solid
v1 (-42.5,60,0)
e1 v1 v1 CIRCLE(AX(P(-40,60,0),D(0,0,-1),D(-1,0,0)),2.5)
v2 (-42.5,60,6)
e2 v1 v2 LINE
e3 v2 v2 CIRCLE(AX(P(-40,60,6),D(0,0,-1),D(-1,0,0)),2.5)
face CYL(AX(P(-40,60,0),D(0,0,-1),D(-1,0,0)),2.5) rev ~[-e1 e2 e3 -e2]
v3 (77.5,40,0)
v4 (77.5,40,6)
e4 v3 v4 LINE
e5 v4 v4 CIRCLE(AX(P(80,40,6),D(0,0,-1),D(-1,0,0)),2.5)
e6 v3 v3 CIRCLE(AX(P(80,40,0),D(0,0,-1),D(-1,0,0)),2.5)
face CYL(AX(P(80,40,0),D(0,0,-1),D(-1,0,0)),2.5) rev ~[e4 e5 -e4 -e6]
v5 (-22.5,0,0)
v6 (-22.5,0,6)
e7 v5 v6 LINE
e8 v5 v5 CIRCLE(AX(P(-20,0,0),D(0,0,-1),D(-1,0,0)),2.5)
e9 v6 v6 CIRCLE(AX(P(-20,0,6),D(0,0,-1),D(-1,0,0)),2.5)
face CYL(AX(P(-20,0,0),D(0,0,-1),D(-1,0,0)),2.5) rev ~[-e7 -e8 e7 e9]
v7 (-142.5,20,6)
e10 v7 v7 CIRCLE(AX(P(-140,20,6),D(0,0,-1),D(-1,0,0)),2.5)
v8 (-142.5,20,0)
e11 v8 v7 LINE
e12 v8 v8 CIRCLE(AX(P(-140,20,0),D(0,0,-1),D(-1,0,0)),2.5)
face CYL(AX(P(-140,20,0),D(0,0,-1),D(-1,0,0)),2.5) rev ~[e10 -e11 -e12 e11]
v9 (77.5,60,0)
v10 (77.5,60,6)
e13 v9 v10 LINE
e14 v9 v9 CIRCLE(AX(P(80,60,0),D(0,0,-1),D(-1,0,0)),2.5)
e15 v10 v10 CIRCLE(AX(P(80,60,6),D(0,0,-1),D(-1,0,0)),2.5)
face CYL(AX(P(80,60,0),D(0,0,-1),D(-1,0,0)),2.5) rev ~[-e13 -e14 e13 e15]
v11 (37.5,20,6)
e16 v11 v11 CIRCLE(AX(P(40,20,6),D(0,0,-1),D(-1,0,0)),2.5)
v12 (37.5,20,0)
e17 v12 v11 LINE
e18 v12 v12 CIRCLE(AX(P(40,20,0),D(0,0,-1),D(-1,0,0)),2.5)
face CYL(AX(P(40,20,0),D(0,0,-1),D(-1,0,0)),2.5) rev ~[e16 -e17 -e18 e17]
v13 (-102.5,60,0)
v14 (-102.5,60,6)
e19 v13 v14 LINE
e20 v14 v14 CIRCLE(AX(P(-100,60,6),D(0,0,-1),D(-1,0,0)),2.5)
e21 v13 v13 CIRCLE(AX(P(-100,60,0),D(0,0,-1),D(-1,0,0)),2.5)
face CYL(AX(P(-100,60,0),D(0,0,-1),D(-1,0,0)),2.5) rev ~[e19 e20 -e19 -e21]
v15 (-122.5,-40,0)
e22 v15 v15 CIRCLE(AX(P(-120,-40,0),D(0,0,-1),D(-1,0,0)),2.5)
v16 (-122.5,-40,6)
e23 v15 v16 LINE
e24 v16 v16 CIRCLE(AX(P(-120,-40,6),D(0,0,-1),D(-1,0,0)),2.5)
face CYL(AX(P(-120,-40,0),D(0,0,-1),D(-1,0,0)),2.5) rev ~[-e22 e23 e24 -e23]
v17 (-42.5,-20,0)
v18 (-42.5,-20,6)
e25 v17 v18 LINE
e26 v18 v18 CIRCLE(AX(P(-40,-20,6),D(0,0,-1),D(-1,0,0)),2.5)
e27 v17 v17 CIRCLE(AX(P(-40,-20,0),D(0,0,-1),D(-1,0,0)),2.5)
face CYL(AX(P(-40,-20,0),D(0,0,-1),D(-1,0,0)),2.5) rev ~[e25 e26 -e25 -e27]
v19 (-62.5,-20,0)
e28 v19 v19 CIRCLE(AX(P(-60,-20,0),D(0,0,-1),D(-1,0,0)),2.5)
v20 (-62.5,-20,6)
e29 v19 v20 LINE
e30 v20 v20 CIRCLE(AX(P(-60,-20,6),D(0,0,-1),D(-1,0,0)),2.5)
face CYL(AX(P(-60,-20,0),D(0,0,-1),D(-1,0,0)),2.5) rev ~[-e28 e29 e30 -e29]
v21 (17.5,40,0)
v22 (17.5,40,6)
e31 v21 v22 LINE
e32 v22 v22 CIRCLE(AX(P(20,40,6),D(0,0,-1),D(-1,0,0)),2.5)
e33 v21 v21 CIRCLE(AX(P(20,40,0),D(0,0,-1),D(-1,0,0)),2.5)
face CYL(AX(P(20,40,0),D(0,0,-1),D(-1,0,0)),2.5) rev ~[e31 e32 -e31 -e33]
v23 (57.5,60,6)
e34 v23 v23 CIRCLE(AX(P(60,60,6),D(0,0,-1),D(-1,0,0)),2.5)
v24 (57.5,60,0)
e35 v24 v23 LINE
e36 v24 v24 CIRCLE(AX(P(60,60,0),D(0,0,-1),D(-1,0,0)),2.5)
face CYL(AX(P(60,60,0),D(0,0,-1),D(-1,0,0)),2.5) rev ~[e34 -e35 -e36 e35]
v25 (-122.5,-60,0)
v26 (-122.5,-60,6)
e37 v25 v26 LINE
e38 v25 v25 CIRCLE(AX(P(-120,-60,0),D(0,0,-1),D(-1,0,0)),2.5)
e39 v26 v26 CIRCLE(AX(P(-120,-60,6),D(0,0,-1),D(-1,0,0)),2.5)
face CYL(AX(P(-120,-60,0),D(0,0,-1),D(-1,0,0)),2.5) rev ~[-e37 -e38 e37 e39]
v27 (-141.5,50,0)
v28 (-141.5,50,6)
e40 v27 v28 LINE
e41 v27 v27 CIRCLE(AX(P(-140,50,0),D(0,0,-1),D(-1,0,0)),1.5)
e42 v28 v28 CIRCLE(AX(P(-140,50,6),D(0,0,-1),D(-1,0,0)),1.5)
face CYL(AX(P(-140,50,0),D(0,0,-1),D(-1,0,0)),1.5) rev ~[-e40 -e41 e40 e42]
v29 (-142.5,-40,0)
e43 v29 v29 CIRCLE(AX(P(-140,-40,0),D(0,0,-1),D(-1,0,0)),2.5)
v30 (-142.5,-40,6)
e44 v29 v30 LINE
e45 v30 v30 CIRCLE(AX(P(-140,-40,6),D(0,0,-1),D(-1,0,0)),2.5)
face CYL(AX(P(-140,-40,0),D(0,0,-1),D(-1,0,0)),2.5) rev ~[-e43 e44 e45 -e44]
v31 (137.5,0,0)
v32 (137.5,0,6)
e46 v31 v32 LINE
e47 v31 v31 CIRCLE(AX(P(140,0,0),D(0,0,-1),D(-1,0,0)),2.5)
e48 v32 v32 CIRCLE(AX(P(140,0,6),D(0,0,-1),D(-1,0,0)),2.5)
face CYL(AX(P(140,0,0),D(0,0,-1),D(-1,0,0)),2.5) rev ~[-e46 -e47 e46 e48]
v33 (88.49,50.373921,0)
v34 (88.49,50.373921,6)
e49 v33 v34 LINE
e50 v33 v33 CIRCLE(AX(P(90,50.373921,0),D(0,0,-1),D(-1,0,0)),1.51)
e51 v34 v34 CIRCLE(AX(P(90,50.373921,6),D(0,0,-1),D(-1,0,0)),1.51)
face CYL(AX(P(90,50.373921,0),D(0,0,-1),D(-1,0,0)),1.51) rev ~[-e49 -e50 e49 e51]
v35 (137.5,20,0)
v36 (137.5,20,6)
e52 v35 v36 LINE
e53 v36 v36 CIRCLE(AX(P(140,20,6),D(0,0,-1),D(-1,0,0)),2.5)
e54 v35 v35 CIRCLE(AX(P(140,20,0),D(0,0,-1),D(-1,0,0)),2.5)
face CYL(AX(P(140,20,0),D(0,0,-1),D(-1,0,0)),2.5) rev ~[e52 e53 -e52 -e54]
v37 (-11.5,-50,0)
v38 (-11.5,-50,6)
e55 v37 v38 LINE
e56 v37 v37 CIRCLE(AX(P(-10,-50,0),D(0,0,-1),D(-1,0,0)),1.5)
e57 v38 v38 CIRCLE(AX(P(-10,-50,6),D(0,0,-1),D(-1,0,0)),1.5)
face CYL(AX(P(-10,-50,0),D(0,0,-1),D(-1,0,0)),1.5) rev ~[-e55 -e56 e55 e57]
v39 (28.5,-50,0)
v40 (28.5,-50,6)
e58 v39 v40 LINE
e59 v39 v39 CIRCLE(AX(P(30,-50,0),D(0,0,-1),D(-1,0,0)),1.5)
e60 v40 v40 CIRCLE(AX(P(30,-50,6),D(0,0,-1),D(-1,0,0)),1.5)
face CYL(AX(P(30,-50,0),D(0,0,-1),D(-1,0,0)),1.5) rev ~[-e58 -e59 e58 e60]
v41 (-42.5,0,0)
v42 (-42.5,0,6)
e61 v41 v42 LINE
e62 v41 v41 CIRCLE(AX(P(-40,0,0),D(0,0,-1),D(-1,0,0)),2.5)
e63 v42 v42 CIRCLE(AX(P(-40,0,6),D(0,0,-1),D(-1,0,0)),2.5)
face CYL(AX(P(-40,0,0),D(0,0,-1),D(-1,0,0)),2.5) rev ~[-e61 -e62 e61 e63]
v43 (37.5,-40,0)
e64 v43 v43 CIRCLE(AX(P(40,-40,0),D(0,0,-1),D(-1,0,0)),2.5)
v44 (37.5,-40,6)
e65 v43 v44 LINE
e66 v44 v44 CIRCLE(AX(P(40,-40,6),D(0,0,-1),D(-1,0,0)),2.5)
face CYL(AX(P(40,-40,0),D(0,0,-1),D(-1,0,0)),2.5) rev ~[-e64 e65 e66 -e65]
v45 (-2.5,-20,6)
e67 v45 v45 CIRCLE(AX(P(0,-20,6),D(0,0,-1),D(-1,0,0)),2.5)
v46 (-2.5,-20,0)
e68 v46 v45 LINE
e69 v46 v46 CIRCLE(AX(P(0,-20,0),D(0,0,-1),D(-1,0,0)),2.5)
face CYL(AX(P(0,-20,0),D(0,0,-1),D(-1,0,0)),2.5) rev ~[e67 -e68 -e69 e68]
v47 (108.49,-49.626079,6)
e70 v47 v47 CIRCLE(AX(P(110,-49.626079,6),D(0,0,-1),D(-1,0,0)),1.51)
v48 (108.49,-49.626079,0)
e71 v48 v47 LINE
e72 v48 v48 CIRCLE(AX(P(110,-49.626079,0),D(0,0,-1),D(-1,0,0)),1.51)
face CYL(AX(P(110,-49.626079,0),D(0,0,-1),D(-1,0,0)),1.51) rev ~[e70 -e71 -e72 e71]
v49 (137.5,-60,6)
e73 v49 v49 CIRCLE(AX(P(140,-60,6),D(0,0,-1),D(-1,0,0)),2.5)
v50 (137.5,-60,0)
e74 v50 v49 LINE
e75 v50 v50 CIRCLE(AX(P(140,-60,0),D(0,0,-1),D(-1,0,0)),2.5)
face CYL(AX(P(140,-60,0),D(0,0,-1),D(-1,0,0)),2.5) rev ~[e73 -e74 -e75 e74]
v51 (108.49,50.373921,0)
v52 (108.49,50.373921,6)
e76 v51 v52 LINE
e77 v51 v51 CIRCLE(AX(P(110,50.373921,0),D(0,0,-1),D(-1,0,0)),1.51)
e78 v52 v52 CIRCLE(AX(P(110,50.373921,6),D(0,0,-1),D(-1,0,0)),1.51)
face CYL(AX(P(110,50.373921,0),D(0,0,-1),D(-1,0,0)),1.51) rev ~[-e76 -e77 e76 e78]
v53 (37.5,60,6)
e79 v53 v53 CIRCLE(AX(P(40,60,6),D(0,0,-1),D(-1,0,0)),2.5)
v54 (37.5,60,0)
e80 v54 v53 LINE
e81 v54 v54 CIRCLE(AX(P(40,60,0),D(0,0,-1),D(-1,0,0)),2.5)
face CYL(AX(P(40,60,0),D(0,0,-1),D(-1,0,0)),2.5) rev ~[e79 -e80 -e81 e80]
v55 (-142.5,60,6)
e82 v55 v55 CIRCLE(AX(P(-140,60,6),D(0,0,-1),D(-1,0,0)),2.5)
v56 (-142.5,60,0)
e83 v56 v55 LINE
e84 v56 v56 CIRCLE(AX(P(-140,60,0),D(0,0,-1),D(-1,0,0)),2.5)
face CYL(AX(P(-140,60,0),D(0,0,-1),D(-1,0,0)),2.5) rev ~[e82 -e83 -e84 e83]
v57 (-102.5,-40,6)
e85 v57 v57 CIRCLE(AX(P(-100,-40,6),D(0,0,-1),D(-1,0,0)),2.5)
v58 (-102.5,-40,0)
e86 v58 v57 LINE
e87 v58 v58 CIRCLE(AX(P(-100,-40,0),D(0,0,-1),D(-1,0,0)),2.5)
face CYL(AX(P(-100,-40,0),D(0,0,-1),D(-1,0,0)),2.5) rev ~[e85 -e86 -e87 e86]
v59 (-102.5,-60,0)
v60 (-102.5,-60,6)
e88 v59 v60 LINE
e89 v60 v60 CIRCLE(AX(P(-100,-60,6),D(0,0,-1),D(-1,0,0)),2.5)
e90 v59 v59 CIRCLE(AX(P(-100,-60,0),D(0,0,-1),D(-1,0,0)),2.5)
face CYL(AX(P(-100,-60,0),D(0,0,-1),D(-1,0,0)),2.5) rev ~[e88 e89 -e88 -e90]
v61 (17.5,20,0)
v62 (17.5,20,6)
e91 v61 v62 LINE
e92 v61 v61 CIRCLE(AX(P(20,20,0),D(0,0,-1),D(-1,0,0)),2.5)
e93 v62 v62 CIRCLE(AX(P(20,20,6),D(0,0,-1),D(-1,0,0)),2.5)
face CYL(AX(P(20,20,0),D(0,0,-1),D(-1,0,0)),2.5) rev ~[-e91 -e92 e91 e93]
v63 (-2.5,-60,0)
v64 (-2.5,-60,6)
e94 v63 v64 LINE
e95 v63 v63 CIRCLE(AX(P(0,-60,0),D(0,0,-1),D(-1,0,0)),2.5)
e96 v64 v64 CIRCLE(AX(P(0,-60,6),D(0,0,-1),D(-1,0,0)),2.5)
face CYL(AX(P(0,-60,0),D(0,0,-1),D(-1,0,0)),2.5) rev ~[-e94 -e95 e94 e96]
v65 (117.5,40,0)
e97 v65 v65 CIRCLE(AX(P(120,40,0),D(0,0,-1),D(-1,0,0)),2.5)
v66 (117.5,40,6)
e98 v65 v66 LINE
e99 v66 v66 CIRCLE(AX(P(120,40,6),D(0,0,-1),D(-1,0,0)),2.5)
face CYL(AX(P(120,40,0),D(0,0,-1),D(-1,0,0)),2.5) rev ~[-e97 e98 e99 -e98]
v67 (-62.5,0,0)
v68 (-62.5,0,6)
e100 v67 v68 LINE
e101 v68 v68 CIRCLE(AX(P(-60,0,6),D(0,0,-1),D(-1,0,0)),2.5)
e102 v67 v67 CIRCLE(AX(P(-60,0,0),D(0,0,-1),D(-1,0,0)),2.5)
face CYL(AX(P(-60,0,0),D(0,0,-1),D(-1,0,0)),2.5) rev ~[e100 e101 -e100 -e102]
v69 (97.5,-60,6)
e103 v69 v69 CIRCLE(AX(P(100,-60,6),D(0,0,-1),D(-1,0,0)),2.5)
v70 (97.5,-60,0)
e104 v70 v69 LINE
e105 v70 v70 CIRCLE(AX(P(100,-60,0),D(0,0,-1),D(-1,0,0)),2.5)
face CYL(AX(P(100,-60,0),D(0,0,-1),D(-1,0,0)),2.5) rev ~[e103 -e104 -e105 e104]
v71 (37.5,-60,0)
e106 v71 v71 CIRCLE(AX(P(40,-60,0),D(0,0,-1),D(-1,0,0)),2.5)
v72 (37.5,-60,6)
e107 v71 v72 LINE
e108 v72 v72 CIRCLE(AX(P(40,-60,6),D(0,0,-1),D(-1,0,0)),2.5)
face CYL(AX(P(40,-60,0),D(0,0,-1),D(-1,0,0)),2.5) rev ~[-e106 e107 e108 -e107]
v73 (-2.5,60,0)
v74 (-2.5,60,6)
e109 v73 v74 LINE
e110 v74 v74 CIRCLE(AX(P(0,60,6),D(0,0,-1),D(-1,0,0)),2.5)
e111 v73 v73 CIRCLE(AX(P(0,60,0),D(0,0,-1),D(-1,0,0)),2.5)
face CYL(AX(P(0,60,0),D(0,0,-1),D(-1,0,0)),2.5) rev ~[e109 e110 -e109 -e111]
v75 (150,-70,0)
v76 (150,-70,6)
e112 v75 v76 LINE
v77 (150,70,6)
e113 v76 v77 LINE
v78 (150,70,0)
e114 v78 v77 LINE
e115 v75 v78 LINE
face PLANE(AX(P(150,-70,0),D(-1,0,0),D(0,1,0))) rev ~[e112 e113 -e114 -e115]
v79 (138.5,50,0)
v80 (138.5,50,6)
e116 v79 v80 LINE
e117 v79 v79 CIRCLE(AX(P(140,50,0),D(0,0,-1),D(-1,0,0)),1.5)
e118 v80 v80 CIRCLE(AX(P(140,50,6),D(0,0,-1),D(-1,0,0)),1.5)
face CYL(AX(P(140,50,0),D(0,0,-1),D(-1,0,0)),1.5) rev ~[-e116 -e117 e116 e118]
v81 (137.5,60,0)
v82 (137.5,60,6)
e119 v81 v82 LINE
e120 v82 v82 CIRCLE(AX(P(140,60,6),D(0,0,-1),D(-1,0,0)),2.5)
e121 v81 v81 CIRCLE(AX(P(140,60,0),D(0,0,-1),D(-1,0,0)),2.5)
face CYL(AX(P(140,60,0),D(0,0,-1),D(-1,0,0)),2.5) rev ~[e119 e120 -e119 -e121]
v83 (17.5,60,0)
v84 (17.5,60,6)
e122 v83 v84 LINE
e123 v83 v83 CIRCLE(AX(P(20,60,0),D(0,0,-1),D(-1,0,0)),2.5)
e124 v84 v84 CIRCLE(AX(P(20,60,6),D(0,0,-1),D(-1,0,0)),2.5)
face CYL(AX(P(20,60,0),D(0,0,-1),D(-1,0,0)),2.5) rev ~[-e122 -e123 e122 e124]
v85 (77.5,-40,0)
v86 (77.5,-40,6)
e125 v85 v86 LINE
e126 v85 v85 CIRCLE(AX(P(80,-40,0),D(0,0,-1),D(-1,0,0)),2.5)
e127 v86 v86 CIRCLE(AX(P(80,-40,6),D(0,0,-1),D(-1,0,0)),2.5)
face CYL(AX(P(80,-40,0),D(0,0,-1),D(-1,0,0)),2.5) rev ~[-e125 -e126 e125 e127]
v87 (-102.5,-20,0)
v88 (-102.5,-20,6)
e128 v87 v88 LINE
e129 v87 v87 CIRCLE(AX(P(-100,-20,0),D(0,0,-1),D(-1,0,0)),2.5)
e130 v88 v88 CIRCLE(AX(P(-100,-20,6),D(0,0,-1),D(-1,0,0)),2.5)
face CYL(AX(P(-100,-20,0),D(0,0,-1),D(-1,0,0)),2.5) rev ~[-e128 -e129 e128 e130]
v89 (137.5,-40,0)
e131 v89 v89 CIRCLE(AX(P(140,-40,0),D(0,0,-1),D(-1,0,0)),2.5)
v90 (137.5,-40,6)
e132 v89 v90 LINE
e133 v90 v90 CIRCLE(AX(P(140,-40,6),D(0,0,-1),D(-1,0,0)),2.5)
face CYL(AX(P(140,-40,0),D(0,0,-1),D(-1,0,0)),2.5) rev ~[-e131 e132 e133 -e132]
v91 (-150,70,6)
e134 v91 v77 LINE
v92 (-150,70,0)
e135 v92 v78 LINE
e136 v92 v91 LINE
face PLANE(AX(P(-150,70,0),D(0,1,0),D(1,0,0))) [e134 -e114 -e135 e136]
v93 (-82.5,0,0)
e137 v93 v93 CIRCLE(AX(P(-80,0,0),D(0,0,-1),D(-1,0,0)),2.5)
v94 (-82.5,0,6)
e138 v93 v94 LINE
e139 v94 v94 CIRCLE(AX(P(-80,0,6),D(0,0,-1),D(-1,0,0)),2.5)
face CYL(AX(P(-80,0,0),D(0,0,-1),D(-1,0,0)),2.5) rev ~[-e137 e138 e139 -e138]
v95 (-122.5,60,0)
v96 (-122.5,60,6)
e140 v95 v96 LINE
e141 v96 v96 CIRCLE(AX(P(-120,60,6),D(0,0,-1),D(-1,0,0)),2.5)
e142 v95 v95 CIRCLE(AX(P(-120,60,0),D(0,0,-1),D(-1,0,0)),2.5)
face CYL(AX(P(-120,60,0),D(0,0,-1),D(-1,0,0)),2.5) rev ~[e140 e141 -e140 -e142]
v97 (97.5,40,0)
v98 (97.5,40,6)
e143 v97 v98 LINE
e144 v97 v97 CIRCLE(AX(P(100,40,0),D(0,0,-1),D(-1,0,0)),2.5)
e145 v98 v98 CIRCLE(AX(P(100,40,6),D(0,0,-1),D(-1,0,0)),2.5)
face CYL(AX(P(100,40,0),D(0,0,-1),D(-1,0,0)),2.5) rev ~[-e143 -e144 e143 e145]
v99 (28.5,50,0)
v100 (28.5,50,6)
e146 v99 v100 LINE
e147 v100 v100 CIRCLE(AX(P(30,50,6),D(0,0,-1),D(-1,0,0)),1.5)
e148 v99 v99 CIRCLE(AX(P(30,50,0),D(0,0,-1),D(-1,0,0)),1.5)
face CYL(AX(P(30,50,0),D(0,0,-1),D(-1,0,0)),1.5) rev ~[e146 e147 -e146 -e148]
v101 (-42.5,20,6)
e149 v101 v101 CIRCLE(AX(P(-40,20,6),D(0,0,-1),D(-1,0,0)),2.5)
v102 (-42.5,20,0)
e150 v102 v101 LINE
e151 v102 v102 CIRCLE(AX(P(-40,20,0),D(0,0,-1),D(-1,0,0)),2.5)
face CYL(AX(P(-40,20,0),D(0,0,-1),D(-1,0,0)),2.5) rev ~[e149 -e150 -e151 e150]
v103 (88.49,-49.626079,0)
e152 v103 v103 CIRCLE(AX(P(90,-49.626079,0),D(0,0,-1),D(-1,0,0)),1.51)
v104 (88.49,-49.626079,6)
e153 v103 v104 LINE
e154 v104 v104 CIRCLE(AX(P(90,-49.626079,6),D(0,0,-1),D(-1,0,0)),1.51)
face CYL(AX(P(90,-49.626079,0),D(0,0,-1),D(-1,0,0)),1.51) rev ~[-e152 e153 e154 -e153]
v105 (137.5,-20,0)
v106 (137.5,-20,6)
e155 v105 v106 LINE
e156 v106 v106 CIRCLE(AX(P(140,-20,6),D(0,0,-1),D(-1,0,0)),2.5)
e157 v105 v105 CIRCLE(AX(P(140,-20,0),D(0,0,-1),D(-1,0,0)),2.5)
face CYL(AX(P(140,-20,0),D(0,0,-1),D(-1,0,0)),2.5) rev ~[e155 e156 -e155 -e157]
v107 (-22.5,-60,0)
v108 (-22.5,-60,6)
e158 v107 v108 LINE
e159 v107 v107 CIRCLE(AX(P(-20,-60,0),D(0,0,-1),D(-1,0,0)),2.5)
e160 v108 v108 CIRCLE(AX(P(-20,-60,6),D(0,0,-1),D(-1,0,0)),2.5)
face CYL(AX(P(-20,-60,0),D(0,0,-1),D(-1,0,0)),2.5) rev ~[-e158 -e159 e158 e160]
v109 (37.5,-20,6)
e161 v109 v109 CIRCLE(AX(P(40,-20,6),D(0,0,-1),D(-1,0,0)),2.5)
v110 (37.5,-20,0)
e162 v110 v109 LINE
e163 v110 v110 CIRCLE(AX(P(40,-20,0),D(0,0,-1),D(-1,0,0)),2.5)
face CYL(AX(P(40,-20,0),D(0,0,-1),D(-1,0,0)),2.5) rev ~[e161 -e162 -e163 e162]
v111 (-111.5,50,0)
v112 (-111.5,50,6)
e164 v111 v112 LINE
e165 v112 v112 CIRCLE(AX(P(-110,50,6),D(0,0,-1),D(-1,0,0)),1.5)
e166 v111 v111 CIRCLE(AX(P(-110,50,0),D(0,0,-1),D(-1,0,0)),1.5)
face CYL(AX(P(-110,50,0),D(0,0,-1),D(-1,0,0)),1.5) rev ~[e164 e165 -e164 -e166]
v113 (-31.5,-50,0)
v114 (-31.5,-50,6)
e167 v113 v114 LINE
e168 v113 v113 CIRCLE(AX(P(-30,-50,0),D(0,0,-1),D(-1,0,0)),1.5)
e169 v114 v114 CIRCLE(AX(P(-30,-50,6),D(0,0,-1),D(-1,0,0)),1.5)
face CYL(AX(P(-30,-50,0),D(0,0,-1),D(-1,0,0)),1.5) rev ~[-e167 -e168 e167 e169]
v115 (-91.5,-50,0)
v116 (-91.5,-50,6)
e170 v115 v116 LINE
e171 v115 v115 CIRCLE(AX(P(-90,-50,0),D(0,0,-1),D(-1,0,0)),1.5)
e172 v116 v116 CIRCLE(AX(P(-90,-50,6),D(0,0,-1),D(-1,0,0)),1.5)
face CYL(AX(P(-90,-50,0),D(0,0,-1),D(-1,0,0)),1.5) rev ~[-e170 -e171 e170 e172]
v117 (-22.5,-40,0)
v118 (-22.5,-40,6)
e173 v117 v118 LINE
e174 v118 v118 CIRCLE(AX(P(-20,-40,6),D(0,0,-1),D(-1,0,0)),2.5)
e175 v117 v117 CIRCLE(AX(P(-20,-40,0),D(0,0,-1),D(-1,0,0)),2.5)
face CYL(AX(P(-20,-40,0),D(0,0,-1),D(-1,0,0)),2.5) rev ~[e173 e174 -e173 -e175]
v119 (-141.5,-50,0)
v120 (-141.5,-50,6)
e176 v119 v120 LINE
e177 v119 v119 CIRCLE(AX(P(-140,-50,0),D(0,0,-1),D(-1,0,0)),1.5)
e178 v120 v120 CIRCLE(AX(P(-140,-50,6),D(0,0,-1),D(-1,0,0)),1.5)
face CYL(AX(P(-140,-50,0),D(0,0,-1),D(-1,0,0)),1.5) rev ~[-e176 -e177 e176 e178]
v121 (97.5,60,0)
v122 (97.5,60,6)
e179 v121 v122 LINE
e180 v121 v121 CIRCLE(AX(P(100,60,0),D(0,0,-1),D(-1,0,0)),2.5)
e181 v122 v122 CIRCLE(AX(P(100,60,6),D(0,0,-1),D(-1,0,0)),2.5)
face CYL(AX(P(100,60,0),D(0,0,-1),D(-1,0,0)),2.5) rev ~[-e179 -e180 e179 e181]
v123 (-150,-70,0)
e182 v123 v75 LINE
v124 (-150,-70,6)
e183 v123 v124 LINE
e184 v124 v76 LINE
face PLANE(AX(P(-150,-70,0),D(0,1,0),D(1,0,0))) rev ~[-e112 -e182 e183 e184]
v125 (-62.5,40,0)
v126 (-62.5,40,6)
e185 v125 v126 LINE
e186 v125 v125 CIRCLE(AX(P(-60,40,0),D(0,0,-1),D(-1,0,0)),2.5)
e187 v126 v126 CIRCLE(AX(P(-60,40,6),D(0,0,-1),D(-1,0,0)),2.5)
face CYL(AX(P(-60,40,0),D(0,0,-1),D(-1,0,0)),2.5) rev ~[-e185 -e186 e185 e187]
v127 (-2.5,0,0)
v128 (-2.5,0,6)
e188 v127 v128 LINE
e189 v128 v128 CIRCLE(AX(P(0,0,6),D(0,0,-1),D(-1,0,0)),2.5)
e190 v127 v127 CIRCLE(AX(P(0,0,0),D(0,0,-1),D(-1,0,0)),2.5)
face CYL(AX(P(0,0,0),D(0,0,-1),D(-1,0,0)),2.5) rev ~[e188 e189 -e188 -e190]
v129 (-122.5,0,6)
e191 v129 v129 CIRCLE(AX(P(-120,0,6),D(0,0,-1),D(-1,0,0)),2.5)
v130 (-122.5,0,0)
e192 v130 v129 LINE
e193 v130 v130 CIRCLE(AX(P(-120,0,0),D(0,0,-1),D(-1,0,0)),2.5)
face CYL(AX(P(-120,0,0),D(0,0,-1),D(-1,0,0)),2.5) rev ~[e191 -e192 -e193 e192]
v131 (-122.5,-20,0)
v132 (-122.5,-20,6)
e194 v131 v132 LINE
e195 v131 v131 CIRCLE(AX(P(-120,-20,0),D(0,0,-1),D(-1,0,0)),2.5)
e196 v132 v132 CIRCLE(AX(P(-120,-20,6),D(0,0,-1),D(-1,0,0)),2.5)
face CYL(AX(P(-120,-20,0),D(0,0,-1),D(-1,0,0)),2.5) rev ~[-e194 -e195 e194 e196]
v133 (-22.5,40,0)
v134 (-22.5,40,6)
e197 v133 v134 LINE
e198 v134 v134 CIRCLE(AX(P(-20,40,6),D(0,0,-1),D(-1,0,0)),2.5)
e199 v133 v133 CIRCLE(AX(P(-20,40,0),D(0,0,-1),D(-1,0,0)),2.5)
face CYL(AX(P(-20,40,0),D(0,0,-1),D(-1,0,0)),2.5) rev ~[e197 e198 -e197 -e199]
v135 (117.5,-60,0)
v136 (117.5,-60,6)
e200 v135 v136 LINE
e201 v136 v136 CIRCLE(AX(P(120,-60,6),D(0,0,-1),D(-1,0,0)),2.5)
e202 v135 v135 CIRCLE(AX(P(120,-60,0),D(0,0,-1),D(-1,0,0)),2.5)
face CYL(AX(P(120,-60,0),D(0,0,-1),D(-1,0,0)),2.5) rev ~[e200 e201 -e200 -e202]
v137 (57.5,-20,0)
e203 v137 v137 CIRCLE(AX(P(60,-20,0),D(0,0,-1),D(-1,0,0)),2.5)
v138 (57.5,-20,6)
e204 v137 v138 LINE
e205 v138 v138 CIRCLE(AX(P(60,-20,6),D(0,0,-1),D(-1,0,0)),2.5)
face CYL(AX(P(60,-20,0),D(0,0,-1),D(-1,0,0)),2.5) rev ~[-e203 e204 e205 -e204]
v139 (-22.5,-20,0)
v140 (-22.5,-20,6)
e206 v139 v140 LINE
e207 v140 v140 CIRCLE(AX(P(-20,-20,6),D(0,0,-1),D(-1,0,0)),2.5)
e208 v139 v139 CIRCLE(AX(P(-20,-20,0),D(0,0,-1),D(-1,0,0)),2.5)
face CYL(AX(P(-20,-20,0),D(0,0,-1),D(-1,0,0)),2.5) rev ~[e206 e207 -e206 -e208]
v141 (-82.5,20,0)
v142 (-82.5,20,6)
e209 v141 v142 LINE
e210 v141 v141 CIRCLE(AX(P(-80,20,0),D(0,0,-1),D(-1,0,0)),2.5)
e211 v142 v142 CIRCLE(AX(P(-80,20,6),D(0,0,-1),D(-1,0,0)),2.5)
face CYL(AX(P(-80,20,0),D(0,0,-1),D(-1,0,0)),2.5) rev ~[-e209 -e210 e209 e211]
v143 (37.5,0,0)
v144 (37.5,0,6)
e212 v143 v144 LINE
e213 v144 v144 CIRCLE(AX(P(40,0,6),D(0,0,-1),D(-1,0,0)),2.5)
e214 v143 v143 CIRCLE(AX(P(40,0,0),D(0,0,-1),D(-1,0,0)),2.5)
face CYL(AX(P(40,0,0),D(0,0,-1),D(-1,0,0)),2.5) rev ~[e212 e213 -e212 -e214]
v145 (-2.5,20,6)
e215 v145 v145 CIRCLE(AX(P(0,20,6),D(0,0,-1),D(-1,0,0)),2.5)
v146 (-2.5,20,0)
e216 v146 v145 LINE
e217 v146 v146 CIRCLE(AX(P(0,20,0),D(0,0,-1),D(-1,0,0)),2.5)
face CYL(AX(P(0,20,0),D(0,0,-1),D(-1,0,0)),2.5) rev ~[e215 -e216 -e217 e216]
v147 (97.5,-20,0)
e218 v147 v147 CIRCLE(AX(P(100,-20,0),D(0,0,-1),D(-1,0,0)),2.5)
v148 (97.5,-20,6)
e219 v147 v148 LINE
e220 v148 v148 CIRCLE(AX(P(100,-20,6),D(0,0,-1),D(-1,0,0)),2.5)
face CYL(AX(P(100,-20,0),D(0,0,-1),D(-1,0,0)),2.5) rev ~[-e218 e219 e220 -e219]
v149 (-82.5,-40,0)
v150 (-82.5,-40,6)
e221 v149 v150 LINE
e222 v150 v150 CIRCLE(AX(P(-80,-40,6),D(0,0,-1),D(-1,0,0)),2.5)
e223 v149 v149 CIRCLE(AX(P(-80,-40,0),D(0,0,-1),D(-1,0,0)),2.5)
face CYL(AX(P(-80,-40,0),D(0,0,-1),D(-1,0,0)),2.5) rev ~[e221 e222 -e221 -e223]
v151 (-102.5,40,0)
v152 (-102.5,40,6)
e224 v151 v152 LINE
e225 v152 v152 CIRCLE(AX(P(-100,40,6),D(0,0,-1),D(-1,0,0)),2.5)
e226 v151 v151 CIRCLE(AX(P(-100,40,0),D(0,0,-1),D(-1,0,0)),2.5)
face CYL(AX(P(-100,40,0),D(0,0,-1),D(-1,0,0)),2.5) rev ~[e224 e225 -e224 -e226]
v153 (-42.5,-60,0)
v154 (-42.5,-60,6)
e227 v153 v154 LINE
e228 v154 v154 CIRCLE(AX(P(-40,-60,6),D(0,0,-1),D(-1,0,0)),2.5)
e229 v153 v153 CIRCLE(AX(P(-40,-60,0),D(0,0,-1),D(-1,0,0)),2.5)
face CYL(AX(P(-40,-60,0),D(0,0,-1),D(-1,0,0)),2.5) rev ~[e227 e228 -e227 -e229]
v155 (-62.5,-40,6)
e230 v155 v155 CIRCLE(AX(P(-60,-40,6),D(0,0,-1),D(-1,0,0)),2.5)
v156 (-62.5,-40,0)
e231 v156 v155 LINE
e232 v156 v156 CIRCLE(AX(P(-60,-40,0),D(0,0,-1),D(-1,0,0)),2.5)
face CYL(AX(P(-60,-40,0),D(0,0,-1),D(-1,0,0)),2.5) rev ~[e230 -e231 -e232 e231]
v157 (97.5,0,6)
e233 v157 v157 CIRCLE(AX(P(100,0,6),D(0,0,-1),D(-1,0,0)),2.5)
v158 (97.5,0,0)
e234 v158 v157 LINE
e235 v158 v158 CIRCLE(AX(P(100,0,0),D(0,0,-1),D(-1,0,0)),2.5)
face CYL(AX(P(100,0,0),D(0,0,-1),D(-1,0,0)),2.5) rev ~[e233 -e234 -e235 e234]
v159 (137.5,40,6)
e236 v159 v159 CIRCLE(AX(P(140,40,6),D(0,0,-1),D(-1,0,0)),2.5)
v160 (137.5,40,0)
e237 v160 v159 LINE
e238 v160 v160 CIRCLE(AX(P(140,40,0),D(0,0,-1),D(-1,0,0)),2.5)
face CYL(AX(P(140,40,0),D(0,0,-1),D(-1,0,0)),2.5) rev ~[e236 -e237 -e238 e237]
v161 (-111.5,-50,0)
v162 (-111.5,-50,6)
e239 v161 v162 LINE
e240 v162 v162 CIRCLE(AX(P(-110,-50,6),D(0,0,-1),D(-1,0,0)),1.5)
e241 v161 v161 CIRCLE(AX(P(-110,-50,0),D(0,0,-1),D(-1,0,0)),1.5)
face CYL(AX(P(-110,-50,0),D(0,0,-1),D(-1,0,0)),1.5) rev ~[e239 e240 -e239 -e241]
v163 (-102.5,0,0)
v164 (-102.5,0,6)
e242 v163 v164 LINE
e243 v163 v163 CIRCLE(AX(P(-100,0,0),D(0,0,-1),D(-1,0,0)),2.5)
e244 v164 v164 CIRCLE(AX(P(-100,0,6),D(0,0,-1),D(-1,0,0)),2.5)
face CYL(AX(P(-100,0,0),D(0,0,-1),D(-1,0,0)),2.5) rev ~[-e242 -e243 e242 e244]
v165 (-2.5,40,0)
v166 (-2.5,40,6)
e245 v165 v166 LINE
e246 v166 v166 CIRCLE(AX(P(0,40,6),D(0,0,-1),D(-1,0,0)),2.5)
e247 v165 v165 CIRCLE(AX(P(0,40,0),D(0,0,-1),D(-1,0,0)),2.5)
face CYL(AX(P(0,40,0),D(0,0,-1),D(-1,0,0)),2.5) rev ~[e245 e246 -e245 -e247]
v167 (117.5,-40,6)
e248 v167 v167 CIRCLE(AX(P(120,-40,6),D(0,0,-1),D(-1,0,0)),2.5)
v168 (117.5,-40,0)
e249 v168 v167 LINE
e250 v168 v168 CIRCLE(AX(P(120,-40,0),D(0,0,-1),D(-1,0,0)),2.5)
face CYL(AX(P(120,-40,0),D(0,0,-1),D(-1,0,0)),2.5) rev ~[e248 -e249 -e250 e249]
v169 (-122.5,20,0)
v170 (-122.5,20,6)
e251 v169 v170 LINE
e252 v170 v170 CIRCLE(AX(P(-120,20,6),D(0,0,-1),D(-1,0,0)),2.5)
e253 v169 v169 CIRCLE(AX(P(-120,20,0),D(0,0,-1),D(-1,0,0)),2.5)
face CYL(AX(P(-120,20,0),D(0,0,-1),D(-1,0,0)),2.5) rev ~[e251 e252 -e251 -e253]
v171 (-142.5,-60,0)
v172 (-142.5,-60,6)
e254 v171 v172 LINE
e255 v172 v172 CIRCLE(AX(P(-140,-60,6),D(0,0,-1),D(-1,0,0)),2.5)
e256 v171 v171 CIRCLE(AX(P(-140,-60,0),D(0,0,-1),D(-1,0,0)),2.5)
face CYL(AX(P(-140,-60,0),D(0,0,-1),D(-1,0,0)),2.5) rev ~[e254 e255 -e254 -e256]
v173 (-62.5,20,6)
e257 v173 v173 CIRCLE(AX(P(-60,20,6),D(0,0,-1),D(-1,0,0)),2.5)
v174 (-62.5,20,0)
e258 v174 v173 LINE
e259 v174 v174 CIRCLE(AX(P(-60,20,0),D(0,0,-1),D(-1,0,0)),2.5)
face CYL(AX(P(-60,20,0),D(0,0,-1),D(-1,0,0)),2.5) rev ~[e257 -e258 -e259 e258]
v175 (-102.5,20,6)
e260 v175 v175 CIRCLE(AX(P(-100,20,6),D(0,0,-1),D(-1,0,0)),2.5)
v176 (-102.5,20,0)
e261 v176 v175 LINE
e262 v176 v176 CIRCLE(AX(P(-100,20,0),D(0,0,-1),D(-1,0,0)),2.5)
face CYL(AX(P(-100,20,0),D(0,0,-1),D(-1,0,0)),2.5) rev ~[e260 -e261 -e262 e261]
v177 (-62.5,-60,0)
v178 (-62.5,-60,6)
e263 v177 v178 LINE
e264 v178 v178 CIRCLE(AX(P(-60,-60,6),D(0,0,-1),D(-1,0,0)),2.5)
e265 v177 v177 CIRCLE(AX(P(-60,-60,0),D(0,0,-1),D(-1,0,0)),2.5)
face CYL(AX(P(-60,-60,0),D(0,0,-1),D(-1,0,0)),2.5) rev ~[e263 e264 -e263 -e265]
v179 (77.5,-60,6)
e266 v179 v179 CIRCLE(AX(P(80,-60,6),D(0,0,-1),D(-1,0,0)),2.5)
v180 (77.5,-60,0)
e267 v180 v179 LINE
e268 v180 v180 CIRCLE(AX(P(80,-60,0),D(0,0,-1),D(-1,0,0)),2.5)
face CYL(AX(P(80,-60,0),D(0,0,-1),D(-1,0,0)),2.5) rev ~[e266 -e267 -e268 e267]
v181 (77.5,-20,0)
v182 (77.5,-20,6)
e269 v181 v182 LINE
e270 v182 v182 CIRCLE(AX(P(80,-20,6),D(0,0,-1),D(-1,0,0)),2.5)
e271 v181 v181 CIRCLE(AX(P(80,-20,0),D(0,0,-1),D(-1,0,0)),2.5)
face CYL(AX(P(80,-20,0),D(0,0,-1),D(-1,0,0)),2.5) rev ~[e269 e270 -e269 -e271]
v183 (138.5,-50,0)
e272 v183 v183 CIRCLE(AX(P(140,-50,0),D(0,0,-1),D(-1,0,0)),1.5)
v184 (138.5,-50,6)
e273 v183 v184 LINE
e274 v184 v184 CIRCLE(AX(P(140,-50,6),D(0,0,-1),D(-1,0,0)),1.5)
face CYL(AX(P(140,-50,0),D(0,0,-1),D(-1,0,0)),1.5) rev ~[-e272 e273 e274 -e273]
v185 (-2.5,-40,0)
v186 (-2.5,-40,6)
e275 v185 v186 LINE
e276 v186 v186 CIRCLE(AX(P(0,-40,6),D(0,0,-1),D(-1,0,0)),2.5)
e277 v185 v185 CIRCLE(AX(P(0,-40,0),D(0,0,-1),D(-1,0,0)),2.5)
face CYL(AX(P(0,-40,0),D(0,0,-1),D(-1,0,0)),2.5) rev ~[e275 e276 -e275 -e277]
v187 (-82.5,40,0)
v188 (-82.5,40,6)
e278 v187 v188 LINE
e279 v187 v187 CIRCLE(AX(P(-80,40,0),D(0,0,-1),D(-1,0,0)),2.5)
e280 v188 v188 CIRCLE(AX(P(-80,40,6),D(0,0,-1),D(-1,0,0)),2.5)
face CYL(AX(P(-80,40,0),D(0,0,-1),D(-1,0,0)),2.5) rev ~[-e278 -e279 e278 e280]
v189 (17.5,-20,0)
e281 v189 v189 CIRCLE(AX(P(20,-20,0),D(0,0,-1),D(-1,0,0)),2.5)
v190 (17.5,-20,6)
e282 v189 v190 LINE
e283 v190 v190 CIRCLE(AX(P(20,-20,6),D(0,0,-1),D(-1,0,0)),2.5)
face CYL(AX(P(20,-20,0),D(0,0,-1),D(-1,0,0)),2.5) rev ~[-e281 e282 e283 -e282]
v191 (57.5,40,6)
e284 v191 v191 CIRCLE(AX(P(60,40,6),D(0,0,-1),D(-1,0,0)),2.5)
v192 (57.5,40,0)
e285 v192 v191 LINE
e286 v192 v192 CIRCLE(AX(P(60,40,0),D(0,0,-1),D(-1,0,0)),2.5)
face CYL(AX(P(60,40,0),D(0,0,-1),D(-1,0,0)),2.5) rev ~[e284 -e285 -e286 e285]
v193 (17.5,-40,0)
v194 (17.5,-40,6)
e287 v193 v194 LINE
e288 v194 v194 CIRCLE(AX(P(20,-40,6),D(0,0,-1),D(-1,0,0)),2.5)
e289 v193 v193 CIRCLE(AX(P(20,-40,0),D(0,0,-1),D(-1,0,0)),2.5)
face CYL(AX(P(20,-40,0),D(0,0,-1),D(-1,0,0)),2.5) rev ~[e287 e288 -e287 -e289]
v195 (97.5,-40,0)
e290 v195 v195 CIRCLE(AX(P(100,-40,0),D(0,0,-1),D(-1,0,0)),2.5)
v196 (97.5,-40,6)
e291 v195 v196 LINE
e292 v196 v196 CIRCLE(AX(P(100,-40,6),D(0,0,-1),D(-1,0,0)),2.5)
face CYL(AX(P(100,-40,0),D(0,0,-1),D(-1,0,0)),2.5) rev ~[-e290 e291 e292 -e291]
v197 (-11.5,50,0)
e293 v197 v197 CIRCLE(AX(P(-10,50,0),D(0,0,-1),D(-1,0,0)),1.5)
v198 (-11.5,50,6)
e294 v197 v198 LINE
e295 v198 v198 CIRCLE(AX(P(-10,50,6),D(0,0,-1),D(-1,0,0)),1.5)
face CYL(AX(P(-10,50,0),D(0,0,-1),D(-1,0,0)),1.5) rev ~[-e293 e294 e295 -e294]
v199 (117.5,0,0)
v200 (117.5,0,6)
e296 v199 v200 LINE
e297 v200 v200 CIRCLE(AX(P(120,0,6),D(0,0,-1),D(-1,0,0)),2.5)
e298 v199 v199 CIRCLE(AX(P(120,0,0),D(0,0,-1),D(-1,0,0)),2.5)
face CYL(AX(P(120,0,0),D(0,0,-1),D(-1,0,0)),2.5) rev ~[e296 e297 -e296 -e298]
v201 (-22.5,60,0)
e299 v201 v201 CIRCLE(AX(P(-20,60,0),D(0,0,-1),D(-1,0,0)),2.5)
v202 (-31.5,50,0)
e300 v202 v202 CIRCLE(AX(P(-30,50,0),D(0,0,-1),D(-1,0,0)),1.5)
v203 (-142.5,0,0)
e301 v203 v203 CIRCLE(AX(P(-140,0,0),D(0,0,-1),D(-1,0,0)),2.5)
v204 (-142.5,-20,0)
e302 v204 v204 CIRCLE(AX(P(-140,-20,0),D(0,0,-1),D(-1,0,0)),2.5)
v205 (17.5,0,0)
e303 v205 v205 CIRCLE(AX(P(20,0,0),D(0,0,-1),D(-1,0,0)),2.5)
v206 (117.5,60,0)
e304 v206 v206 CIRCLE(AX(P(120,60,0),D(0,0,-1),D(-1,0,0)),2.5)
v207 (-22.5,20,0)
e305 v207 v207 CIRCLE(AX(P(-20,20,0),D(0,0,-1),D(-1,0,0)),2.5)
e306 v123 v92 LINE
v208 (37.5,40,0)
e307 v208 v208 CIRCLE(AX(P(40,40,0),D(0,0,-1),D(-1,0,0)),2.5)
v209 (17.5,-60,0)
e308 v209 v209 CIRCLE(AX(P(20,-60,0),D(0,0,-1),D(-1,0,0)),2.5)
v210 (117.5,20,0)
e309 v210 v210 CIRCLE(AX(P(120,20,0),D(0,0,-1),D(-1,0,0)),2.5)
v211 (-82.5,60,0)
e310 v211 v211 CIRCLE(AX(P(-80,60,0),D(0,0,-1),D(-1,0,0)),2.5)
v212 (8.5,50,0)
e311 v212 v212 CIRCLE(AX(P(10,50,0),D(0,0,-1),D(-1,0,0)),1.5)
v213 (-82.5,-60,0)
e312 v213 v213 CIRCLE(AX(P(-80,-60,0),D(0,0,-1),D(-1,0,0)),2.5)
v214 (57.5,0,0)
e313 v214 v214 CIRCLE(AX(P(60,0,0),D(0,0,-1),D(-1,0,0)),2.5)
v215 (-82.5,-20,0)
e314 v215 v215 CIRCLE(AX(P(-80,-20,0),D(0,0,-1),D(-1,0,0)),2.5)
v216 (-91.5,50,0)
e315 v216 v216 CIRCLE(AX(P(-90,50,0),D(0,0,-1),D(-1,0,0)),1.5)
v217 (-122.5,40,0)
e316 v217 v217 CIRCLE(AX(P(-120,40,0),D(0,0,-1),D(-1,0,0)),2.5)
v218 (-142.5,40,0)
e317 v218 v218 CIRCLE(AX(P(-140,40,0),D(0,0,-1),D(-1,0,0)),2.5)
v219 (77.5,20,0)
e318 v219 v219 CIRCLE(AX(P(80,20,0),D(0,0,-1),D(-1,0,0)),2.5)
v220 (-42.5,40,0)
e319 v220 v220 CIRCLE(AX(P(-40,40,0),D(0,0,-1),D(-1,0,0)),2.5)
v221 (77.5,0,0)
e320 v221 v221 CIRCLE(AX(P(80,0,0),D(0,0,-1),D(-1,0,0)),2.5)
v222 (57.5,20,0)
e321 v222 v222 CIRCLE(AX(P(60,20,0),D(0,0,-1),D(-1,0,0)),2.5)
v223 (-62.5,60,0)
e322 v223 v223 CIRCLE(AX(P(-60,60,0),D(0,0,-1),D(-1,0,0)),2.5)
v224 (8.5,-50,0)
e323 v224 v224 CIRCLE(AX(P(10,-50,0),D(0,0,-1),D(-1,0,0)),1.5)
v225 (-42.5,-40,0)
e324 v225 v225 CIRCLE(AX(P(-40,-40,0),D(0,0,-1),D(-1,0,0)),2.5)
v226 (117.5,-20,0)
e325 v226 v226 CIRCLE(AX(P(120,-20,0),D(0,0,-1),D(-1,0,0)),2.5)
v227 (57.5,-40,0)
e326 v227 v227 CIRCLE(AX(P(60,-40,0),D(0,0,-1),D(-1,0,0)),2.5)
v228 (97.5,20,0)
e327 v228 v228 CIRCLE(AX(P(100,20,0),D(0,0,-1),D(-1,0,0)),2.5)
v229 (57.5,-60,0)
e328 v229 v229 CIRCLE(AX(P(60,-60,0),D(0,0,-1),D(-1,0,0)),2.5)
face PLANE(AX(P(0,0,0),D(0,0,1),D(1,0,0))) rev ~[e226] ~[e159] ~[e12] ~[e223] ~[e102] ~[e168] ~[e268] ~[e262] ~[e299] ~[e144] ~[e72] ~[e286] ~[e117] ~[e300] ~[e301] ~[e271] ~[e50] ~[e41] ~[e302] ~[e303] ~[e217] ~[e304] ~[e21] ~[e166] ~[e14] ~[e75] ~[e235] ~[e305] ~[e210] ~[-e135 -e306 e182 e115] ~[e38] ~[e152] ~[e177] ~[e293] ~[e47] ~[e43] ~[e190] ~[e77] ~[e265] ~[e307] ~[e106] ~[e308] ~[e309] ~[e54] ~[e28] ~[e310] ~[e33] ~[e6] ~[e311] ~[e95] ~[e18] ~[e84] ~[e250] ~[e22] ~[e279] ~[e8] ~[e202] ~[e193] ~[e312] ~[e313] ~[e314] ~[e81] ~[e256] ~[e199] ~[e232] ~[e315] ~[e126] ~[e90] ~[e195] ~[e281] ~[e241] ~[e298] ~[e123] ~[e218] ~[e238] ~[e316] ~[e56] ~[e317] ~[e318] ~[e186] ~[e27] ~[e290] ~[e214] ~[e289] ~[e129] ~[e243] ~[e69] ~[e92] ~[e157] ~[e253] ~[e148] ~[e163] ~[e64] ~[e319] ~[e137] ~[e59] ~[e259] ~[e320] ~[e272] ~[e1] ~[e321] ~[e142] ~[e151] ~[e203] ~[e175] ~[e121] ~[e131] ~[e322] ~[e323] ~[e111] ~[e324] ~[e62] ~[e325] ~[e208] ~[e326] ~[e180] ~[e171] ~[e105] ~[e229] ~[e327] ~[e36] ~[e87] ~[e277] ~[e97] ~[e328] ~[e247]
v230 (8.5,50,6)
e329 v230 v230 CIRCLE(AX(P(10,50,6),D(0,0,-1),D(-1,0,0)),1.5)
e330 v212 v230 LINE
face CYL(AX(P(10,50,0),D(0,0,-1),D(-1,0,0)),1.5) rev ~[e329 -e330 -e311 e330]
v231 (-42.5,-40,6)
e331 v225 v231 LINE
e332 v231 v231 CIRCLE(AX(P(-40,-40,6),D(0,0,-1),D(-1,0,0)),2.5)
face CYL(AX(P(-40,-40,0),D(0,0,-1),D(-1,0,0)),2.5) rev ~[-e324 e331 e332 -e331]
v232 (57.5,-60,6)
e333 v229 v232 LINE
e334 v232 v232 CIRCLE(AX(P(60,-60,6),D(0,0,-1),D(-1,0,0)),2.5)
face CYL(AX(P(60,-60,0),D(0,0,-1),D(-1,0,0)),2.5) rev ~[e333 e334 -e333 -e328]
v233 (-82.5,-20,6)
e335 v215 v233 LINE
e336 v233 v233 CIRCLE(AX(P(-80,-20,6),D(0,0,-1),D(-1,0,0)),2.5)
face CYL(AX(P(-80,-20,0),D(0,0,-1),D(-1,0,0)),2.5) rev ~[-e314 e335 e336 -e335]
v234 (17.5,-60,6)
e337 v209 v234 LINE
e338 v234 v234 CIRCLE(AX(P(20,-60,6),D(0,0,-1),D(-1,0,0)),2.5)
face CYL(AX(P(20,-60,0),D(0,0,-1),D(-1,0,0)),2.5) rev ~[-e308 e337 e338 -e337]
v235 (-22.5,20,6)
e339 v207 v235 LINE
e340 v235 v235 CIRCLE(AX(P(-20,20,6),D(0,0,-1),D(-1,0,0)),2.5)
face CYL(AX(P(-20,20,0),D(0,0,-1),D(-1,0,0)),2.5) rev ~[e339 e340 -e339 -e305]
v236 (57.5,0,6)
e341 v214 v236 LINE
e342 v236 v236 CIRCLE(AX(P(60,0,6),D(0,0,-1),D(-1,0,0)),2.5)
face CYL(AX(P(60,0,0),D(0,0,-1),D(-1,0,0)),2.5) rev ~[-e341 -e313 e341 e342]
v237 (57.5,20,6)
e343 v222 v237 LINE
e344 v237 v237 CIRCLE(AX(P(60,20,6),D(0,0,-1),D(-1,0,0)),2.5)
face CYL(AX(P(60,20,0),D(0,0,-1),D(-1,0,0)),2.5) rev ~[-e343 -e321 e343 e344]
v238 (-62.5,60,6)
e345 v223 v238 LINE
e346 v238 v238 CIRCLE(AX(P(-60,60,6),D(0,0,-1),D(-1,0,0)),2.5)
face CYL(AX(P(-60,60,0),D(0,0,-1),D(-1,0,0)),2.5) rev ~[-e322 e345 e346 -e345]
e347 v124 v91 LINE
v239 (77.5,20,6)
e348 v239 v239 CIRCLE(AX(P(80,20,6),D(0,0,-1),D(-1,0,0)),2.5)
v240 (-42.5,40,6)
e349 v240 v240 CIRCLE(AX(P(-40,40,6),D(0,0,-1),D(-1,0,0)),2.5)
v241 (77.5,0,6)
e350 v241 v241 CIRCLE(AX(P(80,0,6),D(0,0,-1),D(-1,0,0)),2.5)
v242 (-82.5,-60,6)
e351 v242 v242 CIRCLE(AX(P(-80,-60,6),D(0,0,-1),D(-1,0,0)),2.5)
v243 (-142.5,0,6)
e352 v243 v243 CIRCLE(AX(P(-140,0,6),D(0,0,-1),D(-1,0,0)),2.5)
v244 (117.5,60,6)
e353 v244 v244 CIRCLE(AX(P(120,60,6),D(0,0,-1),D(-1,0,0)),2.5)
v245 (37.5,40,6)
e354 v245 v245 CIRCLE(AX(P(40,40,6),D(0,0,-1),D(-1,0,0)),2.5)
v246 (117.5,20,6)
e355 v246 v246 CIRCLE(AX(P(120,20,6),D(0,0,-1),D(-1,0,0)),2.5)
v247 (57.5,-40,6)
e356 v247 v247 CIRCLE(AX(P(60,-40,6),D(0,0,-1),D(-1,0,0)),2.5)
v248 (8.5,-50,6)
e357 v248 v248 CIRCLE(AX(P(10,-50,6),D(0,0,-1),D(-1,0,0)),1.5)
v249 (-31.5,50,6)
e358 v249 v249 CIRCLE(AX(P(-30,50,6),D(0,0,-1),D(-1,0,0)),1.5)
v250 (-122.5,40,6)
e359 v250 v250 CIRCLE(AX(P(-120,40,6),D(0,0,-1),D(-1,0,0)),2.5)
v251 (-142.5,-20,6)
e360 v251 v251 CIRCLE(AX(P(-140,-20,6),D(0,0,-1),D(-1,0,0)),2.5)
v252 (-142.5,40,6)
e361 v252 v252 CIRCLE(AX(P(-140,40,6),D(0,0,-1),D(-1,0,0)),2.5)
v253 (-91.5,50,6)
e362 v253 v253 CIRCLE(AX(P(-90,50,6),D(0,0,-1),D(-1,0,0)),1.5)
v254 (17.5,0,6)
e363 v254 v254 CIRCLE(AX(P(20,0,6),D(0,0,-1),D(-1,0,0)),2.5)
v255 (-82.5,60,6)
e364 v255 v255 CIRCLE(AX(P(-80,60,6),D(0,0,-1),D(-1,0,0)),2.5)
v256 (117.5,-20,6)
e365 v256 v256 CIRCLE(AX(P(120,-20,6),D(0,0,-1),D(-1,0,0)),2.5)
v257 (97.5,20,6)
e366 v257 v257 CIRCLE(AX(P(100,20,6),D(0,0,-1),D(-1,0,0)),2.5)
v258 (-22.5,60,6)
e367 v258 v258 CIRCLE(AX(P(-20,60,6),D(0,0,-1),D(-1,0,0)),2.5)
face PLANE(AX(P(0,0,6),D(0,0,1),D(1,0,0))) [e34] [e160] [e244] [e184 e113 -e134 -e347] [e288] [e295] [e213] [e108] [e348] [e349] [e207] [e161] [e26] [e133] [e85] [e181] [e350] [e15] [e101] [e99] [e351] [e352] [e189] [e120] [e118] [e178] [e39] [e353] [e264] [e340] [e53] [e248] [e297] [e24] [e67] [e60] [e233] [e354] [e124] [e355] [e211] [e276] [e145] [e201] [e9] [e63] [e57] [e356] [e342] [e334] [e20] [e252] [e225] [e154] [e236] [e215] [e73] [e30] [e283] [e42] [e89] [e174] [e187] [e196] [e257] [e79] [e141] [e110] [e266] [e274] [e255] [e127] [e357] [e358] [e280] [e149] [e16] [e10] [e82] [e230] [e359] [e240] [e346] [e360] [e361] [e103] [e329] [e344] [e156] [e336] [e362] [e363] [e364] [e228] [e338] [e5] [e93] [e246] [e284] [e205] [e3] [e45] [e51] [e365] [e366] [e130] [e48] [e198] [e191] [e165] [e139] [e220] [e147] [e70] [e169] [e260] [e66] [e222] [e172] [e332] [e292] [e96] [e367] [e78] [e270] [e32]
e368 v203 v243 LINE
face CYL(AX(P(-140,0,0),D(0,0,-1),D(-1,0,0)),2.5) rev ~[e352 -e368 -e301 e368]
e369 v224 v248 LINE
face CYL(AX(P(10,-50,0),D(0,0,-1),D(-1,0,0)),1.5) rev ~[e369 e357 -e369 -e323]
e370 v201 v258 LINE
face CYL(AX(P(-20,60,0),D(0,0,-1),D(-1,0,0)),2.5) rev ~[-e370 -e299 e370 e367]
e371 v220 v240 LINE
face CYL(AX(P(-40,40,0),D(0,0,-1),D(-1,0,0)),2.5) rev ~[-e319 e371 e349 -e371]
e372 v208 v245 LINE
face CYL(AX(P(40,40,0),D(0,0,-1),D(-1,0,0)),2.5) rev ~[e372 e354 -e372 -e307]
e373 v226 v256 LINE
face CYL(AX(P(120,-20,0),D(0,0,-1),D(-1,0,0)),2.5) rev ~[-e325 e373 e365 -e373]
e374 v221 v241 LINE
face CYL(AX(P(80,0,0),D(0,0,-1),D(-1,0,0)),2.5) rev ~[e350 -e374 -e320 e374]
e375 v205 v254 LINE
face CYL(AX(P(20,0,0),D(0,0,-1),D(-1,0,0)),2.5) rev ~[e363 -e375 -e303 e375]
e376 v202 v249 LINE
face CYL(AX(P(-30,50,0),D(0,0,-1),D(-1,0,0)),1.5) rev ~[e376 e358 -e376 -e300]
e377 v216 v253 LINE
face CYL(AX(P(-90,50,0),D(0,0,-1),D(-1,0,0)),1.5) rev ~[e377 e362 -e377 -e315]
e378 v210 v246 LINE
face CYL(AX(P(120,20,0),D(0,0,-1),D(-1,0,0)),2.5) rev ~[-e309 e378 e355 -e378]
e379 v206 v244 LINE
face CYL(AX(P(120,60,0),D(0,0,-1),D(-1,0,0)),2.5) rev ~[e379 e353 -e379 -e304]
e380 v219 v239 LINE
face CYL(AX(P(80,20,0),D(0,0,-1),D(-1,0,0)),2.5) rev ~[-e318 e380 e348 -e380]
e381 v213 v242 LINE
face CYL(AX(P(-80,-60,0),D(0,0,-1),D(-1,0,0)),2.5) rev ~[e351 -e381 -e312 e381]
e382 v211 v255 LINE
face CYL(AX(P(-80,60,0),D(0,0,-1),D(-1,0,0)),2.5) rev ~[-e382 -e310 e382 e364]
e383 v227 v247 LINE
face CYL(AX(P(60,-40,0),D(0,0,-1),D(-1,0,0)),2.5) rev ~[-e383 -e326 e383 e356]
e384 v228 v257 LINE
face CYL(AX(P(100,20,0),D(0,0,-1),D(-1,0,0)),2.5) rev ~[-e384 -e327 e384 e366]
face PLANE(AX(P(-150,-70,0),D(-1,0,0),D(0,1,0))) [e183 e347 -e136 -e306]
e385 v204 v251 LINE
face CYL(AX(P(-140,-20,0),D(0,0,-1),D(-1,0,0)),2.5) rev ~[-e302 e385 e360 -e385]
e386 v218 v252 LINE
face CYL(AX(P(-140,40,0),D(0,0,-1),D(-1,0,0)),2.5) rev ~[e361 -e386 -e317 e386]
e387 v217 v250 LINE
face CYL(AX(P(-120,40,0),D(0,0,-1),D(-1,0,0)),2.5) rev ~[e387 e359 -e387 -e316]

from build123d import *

# Parameters (mm, degrees)
SKIZZE1_W                       = 300
SKIZZE1_H                       = 140
AUFSATZ_LINEAR_AUSTRAGEN2_DEPTH = 6
SKIZZE2_R                       = 2.5
SCHNITT_LINEAR_AUSTRAGEN1_DEPTH = 6
LINEARES_MUSTER1_COUNT          = 15
LINEARES_MUSTER1_PITCH          = 20
LINEARES_MUSTER1_COUNT_DIR2     = 7
LINEARES_MUSTER1_PITCH_DIR2     = 20
SKIZZE5_R                       = 1.5
SCHNITT_LINEAR_AUSTRAGEN3_DEPTH = 10
SKIZZE4_R                       = 1.51
CORTAR_EXTRUIR1_DEPTH           = 10
MATRIZL1_COUNT                  = 2
MATRIZL1_PITCH                  = 100
MATRIZL1_COUNT_DIR2             = 2
MATRIZL1_PITCH_DIR2             = 20
MATRIZL2_COUNT                  = 2
MATRIZL2_PITCH                  = 100
MATRIZL2_COUNT_DIR2             = 2
MATRIZL2_PITCH_DIR2             = 280
CROQUIS1_R                      = 1.5
CORTAR_EXTRUIR2_DEPTH           = 10
MATRIZL3_COUNT                  = 2
MATRIZL3_PITCH                  = 100
MATRIZL3_COUNT_DIR2             = 2
MATRIZL3_PITCH_DIR2             = 20
CROQUIS2_R                      = 1.5
CORTAR_EXTRUIR3_DEPTH           = 10
MATRIZL4_COUNT                  = 4
MATRIZL4_PITCH                  = 20
MATRIZL4_COUNT_DIR2             = 2
MATRIZL4_PITCH_DIR2             = 100


with BuildPart() as part:
    # Skizze1 → Aufsatz-Linear austragen2 (new body)
    with BuildSketch(Plane.XY):
        Rectangle(SKIZZE1_W, SKIZZE1_H)
    extrude(amount=AUFSATZ_LINEAR_AUSTRAGEN2_DEPTH)

    # Skizze2 → Schnitt-Linear austragen1 (cut)
    with BuildSketch(Plane(origin=(0, 0, 0), x_dir=(-1, 0, 0), z_dir=(0, 0, -1))):
        with Locations((-140, 60)):
            Circle(SKIZZE2_R)
    schnitt_linear_austragen1 = extrude(amount=-SCHNITT_LINEAR_AUSTRAGEN1_DEPTH, mode=Mode.SUBTRACT)

    # Lineares Muster1: Schnitt-Linear austragen1 15 × 7
    with Locations(*[(-i * LINEARES_MUSTER1_PITCH, -j * LINEARES_MUSTER1_PITCH_DIR2, 0) for i in range(LINEARES_MUSTER1_COUNT) for j in range(LINEARES_MUSTER1_COUNT_DIR2) if (i, j) != (0, 0)]):
        add(schnitt_linear_austragen1, mode=Mode.SUBTRACT)

    # Skizze5 → Schnitt-Linear austragen3 (cut)
    with BuildSketch(Plane(origin=(0, 0, 0), x_dir=(-1, 0, 0), z_dir=(0, 0, -1))):
        with Locations((-140, 50)):
            Circle(SKIZZE5_R)
    schnitt_linear_austragen3 = extrude(amount=-SCHNITT_LINEAR_AUSTRAGEN3_DEPTH, mode=Mode.SUBTRACT)

    # Skizze4 → Cortar-Extruir1 (cut)
    with BuildSketch(Plane(origin=(0, 0, 0), x_dir=(-1, 0, 0), z_dir=(0, 0, -1))):
        with Locations((-110, 50.3739212)):
            Circle(SKIZZE4_R)
    cortar_extruir1 = extrude(amount=-CORTAR_EXTRUIR1_DEPTH, mode=Mode.SUBTRACT)

    # MatrizL1: Cortar-Extruir1 2 × 2
    with Locations(*[(-j * MATRIZL1_PITCH_DIR2, -i * MATRIZL1_PITCH, 0) for i in range(MATRIZL1_COUNT) for j in range(MATRIZL1_COUNT_DIR2) if (i, j) != (0, 0)]):
        add(cortar_extruir1, mode=Mode.SUBTRACT)

    # MatrizL2: Schnitt-Linear austragen3 2 × 2
    with Locations(*[(-j * MATRIZL2_PITCH_DIR2, -i * MATRIZL2_PITCH, 0) for i in range(MATRIZL2_COUNT) for j in range(MATRIZL2_COUNT_DIR2) if (i, j) != (0, 0)]):
        add(schnitt_linear_austragen3, mode=Mode.SUBTRACT)

    # Croquis1 → Cortar-Extruir2 (cut)
    with BuildSketch(Plane(origin=(0, 0, 0), x_dir=(-1, 0, 0), z_dir=(0, 0, -1))):
        with Locations((110, 50)):
            Circle(CROQUIS1_R)
    cortar_extruir2 = extrude(amount=-CORTAR_EXTRUIR2_DEPTH, mode=Mode.SUBTRACT)

    # MatrizL3: Cortar-Extruir2 2 × 2
    with Locations(*[(j * MATRIZL3_PITCH_DIR2, -i * MATRIZL3_PITCH, 0) for i in range(MATRIZL3_COUNT) for j in range(MATRIZL3_COUNT_DIR2) if (i, j) != (0, 0)]):
        add(cortar_extruir2, mode=Mode.SUBTRACT)

    # Croquis2 → Cortar-Extruir3 (cut)
    with BuildSketch(Plane(origin=(0, 0, 0), x_dir=(-1, 0, 0), z_dir=(0, 0, -1))):
        with Locations((30, 50)):
            Circle(CROQUIS2_R)
    cortar_extruir3 = extrude(amount=-CORTAR_EXTRUIR3_DEPTH, mode=Mode.SUBTRACT)

    # MatrizL4: Cortar-Extruir3 4 × 2
    with Locations(*[(i * MATRIZL4_PITCH, -j * MATRIZL4_PITCH_DIR2, 0) for i in range(MATRIZL4_COUNT) for j in range(MATRIZL4_COUNT_DIR2) if (i, j) != (0, 0)]):
        add(cortar_extruir3, mode=Mode.SUBTRACT)


solid = part.part
